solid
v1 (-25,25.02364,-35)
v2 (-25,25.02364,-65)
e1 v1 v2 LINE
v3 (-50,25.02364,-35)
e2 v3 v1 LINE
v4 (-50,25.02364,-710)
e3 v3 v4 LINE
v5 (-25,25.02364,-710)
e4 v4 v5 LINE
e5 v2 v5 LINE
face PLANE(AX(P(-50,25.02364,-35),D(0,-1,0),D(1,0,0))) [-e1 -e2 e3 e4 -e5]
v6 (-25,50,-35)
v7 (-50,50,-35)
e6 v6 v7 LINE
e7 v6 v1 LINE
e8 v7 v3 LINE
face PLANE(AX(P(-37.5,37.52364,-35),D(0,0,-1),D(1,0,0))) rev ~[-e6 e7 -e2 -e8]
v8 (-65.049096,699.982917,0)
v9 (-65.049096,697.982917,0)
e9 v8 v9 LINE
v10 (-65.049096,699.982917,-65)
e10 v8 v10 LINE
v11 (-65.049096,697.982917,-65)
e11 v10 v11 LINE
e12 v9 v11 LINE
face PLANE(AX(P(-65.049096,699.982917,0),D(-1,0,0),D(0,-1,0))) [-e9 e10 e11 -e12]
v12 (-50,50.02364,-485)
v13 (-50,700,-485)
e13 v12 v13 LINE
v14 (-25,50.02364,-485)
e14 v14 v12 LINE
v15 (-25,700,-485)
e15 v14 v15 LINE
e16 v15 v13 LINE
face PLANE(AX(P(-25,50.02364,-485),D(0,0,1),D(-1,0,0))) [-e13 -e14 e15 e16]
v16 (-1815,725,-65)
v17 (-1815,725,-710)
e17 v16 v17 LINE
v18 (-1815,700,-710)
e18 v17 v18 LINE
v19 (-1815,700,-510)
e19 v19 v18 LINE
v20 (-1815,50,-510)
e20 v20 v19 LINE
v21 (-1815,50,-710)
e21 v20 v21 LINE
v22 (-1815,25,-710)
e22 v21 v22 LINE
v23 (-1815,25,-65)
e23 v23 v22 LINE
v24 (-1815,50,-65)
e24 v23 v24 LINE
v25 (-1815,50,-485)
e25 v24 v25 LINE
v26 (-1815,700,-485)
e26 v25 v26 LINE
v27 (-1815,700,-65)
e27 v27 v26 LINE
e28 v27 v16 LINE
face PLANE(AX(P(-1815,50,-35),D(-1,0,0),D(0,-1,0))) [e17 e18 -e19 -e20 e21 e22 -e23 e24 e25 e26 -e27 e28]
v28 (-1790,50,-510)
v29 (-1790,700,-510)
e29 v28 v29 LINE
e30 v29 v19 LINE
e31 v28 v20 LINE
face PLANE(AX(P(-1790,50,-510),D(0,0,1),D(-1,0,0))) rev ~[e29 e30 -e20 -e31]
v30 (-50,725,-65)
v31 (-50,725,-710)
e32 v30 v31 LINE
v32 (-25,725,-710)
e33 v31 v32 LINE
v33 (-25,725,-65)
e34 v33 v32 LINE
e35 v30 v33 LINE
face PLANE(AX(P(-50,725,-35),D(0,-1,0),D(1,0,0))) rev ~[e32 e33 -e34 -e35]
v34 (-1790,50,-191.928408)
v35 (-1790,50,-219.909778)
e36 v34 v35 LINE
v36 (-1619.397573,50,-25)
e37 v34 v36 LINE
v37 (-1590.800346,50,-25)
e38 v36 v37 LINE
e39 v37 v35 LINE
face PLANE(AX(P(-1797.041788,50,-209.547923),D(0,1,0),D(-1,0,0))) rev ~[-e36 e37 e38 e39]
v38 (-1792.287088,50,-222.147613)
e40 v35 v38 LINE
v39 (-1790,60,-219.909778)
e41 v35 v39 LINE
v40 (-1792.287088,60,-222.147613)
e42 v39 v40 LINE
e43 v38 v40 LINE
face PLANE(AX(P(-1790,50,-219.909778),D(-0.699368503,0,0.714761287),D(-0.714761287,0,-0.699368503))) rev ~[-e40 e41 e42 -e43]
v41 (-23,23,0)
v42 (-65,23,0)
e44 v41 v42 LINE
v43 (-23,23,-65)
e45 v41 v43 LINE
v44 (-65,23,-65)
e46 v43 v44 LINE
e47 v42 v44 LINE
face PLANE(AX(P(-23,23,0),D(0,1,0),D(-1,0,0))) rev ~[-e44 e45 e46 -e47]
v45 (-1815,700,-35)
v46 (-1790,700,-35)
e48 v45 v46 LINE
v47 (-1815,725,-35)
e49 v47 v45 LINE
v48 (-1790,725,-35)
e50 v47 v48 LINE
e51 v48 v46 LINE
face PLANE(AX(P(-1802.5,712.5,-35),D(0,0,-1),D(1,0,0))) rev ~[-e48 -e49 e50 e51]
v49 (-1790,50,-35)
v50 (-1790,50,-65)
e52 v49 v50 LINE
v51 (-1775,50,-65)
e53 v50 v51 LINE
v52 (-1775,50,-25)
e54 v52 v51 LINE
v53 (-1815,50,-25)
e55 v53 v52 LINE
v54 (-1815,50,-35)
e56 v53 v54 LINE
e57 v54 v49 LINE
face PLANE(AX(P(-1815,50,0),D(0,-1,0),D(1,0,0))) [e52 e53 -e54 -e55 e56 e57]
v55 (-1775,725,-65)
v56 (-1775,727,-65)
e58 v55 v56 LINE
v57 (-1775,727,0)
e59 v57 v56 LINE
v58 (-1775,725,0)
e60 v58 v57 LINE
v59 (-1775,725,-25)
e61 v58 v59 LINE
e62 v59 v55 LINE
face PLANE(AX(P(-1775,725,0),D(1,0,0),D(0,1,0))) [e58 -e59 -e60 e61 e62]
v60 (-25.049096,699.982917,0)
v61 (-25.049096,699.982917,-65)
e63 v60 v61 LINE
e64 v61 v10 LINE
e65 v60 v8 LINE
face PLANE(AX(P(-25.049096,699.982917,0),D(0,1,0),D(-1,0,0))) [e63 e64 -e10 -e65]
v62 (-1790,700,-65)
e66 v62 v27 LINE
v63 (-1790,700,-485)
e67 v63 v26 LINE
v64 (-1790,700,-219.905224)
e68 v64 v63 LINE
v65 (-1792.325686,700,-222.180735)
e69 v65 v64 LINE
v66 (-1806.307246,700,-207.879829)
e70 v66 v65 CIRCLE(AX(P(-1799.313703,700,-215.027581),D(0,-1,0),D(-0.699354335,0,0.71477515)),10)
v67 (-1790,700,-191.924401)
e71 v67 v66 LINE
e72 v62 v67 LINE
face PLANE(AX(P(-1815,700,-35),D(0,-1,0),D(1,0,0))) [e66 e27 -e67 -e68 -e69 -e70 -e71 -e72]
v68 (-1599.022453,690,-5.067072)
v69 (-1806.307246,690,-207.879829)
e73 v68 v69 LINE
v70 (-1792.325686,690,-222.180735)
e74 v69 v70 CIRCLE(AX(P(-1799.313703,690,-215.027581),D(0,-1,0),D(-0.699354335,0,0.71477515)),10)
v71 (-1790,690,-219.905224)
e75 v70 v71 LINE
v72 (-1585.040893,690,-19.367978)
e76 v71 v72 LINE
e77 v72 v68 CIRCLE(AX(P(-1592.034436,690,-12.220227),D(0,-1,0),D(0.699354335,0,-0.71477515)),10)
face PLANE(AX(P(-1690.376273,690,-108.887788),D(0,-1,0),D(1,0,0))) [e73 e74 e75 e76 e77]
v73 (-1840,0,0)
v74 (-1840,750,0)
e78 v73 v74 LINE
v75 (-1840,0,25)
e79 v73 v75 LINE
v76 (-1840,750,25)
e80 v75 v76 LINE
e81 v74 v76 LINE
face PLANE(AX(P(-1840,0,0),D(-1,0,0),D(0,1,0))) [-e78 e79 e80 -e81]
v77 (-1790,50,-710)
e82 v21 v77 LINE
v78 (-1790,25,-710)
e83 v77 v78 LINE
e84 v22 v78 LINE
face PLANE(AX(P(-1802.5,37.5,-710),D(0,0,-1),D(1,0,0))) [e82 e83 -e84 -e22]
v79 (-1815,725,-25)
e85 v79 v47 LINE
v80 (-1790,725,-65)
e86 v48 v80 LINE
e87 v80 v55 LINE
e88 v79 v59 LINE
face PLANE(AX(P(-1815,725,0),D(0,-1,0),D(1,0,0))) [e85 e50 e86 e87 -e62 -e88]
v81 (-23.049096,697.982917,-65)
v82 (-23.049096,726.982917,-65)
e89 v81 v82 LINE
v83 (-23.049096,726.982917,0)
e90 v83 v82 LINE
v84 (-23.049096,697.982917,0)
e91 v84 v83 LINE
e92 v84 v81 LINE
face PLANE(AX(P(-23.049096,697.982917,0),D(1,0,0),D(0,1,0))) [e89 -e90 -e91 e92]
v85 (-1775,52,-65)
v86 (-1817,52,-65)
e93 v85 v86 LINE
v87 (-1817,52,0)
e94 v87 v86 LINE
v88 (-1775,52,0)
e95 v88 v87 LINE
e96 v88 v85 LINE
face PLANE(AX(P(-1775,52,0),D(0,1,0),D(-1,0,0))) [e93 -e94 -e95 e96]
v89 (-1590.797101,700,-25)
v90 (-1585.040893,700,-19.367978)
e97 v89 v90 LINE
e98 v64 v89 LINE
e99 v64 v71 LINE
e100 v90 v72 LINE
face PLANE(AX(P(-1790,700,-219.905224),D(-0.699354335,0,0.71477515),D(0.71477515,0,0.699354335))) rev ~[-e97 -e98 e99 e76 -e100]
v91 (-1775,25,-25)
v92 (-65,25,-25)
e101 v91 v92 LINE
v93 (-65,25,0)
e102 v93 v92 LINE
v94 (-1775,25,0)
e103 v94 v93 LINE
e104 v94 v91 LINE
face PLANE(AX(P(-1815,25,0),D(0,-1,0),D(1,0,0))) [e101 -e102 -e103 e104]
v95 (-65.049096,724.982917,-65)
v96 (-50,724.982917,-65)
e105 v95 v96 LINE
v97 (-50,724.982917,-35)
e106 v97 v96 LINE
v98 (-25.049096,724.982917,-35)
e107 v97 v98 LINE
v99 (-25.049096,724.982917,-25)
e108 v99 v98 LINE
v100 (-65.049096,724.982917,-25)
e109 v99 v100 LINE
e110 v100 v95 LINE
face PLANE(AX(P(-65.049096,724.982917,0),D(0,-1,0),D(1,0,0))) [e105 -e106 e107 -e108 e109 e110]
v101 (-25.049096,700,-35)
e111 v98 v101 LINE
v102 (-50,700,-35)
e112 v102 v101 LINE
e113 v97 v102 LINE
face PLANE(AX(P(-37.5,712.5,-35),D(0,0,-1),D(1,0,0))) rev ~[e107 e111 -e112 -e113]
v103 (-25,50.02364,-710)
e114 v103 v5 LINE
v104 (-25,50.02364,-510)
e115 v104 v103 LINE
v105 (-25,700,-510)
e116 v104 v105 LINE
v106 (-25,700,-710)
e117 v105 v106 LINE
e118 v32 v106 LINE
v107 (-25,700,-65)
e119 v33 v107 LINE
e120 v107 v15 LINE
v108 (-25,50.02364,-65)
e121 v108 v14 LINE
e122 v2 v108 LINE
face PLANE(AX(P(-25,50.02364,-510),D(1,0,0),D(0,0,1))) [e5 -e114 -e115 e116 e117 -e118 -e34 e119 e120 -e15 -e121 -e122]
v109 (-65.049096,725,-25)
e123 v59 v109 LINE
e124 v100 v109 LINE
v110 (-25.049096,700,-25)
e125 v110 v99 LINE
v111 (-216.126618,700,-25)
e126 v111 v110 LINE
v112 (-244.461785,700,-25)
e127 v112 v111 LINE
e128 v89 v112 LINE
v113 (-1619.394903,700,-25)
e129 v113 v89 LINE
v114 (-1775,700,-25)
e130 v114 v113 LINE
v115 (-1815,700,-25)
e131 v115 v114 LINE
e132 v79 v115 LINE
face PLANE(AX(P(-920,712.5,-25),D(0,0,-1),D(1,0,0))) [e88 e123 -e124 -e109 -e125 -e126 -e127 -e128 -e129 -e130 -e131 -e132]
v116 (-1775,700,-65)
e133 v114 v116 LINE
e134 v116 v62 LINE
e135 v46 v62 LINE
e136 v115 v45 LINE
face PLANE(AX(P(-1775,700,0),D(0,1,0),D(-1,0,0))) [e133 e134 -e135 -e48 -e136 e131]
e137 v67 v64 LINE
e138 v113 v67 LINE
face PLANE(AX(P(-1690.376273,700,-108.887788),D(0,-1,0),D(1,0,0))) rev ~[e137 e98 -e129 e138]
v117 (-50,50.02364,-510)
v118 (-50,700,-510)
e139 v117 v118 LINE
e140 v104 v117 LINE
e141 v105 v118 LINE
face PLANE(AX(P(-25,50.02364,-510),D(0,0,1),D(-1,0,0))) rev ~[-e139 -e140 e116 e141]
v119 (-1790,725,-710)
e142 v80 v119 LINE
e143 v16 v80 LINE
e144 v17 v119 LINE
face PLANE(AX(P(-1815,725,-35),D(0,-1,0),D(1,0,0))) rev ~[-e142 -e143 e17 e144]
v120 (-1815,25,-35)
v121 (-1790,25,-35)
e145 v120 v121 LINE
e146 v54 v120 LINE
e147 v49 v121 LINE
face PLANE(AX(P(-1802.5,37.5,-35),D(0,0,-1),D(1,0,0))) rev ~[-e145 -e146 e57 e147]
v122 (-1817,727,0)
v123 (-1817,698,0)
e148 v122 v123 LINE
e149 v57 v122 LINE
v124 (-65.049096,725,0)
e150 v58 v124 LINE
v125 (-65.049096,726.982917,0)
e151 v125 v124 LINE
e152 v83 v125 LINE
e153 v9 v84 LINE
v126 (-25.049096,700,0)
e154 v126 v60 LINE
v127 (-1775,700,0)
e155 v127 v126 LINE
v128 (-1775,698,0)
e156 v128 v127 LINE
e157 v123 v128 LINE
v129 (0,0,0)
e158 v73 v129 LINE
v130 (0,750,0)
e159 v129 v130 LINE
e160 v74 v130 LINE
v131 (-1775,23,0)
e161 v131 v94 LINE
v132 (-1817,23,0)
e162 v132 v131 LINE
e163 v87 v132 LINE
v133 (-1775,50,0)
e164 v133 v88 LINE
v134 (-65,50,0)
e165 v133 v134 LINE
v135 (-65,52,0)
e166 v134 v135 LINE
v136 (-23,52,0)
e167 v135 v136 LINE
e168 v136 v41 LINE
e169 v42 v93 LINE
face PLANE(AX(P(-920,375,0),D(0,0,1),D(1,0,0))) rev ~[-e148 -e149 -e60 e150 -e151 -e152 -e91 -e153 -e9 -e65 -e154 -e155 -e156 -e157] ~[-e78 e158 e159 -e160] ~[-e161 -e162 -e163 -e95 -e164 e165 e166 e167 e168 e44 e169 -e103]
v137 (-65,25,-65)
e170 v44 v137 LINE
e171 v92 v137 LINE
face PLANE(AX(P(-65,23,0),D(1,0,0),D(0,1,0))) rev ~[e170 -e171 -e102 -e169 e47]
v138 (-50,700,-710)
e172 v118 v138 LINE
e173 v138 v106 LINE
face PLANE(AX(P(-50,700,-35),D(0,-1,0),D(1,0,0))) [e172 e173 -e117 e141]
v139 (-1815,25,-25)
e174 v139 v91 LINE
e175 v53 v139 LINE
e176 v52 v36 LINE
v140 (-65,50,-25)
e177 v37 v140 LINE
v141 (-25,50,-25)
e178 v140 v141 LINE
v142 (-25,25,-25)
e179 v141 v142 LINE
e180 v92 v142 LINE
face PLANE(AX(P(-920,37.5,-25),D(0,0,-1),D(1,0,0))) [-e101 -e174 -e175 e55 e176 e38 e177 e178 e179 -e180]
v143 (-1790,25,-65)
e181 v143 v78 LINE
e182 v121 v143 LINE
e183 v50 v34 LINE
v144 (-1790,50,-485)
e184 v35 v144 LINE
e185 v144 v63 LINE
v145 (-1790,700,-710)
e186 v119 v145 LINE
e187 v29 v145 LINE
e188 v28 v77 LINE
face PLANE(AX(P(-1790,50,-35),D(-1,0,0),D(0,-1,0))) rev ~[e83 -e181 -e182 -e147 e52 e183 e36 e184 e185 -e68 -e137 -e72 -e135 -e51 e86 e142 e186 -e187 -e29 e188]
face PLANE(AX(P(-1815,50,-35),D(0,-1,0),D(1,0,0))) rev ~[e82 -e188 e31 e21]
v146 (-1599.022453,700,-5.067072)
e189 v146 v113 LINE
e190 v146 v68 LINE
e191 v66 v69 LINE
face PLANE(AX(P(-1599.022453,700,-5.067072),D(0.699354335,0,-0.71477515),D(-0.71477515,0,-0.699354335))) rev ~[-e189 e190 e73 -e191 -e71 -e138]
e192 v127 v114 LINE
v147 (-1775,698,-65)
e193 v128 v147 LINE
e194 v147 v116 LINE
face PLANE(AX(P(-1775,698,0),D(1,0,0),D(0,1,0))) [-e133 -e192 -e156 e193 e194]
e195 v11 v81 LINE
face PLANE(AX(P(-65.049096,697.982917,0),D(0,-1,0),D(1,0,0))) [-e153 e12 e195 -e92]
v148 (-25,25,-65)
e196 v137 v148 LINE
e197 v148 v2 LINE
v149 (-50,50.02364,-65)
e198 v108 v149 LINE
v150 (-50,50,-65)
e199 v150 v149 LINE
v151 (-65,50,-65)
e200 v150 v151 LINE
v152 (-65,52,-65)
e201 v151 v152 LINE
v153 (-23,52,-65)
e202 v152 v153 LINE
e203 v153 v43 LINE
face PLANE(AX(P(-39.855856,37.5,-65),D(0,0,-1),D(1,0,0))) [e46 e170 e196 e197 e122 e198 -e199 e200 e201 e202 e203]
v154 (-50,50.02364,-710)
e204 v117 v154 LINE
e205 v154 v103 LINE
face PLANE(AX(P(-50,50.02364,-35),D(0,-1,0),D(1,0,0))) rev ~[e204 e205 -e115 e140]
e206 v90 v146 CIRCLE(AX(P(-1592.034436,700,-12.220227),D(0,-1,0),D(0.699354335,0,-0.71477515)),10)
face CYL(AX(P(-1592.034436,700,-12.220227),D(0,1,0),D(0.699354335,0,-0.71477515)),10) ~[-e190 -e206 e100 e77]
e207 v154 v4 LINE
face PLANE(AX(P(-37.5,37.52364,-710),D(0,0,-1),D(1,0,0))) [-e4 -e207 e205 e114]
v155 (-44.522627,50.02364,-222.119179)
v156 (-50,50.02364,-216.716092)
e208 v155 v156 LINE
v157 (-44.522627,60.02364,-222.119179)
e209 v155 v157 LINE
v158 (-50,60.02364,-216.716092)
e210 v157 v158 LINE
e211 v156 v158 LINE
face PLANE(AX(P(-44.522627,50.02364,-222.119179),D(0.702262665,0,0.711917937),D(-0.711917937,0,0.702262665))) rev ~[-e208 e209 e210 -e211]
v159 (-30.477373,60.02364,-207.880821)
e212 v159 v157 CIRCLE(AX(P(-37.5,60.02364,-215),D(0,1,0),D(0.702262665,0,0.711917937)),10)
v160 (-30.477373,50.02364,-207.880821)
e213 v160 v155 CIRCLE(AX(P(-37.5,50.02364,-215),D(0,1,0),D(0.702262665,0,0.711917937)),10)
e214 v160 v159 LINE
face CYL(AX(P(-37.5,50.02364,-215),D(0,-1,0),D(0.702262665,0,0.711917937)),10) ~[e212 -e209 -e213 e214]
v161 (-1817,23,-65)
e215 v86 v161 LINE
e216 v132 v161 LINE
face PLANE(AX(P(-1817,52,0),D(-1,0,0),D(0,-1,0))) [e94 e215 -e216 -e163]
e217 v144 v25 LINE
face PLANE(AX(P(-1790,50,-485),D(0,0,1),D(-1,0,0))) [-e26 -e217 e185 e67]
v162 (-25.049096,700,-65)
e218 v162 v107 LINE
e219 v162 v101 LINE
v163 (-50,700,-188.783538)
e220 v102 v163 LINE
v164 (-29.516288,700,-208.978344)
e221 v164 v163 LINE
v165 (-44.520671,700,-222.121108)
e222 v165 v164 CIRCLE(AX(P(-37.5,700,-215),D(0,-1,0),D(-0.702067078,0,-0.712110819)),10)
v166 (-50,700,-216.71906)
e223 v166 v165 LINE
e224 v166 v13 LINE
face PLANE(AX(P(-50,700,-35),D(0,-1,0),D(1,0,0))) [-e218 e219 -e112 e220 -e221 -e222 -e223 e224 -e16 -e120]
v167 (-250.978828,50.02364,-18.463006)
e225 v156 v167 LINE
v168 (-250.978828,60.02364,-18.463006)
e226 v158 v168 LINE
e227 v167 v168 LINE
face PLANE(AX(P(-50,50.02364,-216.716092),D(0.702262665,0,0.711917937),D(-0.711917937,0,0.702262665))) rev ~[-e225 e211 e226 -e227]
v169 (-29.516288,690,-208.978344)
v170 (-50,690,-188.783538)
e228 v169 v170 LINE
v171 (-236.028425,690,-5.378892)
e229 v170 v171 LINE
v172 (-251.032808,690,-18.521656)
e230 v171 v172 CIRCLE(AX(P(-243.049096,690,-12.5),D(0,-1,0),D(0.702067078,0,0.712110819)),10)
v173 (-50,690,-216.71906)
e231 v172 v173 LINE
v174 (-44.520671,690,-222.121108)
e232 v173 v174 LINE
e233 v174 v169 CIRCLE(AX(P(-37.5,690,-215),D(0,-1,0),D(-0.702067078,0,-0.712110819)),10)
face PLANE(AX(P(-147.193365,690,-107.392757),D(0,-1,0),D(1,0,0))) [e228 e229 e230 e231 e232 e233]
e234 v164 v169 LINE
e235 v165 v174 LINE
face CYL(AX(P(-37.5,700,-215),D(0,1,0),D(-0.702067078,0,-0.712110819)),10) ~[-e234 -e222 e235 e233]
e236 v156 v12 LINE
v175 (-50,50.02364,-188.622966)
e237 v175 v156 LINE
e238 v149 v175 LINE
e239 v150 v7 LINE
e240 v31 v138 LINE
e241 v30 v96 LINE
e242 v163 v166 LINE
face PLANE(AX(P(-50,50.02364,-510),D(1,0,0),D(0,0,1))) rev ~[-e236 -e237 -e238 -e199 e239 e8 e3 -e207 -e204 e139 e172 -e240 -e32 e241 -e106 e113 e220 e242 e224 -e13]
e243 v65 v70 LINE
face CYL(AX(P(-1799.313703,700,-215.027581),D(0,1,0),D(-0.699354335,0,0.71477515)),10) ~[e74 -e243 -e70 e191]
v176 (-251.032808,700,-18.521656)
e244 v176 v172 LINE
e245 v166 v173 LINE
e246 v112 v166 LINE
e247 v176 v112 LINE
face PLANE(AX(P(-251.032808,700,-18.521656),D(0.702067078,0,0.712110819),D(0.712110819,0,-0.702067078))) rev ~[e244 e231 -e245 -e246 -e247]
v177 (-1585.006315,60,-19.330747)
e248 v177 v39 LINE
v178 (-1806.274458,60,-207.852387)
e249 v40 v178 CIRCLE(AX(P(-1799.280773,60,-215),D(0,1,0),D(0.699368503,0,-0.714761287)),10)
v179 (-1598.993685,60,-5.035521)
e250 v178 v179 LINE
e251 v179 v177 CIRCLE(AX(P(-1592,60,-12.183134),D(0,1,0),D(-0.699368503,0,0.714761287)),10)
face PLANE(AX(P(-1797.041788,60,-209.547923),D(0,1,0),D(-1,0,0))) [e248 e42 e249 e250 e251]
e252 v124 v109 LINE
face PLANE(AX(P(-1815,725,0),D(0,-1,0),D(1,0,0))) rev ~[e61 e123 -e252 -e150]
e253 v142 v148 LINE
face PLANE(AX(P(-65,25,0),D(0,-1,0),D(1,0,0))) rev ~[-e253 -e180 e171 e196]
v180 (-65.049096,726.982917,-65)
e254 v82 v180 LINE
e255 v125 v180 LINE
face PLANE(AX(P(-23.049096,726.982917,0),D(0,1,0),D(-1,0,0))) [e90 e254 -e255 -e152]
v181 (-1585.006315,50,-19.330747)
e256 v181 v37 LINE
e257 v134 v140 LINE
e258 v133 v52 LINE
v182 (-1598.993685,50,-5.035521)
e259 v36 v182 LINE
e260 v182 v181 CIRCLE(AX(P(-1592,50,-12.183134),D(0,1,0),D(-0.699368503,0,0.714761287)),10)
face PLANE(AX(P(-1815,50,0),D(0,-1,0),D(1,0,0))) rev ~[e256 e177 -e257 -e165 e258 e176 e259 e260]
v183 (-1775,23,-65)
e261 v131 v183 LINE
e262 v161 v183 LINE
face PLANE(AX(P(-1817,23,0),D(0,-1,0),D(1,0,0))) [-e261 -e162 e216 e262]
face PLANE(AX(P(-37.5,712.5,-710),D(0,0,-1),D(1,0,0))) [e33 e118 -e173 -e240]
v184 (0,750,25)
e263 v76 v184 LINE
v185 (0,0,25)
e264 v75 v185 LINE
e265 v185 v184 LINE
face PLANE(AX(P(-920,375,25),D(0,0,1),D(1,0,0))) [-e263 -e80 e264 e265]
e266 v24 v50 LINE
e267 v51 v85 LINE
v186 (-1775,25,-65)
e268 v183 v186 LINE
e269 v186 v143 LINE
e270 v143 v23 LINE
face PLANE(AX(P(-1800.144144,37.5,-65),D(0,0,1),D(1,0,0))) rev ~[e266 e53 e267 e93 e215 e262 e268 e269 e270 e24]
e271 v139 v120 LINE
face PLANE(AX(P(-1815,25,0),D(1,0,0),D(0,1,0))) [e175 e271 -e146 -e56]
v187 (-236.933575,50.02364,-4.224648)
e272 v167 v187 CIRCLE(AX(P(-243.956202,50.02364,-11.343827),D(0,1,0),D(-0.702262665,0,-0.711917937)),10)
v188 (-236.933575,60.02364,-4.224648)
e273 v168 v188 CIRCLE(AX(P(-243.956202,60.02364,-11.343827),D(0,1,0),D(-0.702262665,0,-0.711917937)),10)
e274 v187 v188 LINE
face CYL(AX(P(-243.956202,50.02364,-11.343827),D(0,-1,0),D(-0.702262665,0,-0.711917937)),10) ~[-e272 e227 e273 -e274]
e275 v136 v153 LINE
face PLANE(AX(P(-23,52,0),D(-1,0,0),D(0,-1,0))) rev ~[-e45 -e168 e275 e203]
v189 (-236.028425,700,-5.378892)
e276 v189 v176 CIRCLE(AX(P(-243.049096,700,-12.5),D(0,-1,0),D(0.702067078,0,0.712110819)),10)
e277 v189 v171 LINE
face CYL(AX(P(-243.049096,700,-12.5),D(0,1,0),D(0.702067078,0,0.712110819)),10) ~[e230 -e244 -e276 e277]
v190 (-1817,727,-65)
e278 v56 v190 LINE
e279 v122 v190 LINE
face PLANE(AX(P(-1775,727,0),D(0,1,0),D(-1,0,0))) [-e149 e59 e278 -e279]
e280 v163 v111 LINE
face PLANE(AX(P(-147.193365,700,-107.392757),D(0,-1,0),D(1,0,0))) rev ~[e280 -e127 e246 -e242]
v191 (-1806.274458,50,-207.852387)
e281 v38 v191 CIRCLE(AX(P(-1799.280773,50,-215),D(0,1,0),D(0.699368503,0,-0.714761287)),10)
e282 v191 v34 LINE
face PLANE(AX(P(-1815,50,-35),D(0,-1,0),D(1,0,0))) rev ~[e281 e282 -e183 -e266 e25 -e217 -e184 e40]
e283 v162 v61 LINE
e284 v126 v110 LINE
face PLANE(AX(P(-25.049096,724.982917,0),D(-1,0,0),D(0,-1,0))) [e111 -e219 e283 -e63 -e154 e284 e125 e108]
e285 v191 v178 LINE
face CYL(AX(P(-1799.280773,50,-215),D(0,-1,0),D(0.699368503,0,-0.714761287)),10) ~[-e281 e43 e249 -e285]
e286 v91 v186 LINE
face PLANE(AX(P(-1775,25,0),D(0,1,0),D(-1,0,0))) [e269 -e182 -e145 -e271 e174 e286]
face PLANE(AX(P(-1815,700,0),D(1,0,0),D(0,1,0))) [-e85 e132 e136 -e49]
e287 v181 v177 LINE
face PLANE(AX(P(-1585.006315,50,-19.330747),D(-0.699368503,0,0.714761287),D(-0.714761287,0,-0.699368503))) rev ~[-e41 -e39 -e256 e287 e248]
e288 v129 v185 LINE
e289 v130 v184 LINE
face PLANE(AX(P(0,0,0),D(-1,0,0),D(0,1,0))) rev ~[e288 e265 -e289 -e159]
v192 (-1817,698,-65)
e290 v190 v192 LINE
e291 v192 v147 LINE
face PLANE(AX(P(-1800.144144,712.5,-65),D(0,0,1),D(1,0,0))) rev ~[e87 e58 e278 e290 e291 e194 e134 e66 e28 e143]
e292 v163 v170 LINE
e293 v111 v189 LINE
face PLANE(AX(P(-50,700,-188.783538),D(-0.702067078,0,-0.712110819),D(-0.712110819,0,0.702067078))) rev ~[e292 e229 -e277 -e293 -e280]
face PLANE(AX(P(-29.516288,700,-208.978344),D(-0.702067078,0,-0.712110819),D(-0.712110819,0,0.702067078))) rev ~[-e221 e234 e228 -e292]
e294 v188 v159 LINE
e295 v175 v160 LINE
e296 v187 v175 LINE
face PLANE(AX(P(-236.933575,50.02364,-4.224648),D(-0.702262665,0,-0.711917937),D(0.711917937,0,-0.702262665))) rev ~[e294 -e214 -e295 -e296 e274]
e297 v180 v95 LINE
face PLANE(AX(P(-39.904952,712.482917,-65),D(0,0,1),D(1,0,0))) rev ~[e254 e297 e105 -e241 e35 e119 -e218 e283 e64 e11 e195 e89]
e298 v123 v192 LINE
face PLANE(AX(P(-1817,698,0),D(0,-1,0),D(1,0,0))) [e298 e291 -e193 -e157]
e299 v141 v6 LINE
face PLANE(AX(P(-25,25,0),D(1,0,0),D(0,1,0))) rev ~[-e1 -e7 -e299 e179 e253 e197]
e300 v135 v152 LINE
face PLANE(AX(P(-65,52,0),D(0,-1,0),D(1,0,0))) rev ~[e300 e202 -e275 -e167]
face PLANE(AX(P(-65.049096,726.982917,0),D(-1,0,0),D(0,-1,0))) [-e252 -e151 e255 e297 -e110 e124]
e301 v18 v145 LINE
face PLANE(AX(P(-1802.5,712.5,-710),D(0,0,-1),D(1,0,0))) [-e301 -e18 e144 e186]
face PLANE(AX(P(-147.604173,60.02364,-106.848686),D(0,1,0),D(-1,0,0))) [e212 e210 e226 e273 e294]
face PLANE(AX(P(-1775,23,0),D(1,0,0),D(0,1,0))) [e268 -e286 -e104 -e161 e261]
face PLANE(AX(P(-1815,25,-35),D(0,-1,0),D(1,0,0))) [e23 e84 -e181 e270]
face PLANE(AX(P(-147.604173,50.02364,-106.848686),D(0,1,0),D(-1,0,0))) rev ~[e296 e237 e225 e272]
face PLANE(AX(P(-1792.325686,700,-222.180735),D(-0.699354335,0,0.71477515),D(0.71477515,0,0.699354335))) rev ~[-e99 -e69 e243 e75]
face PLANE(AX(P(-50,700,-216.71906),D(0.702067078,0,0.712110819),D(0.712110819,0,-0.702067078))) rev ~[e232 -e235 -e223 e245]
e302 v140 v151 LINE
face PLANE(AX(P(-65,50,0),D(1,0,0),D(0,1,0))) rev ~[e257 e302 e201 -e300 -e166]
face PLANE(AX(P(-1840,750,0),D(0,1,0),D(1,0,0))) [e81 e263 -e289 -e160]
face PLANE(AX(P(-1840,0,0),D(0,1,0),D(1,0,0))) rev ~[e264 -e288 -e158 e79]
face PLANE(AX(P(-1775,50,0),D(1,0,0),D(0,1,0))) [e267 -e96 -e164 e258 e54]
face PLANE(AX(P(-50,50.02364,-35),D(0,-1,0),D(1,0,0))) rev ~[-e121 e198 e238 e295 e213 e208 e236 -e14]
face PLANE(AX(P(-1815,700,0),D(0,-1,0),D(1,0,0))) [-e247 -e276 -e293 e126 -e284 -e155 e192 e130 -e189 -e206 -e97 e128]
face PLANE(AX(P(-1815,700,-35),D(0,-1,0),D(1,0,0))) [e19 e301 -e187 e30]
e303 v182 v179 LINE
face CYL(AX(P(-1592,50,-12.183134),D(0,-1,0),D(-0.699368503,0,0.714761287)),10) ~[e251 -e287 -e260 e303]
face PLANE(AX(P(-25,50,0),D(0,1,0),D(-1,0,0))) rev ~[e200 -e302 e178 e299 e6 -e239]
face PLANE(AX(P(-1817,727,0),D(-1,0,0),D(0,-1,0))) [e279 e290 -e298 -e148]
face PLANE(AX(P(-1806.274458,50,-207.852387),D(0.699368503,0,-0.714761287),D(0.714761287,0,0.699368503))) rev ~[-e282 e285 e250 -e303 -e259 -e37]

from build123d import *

# Parameters (mm, degrees)
F0_W      = 1840
F0_H      = 750
F1_DEPTH  = 25
F2_W      = 1790
F2_H      = 25
F3_DEPTH  = 25
F5_DEPTH  = 65
F7_W      = 25
F7_H      = 25
F8_DEPTH  = 675
F10_DEPTH = 65
F12_W     = 25
F12_H     = 25
F13_DEPTH = 675
F15_W     = 25
F15_H     = 25
F16_DEPTH = 675
F18_W     = 25
F18_H     = 25
F19_DEPTH = 650
F21_W     = 25
F21_H     = 25
F22_DEPTH = 650
F24_DEPTH = 10
F26_DEPTH = 10
F28_DEPTH = 10
F30_DEPTH = 10


with BuildPart() as f1:
    # F0 (on Top) → F1 (new body)
    with BuildSketch(Plane.XY):
        with Locations((-920, 375)):
            Rectangle(F0_W, F0_H)
    extrude(amount=F1_DEPTH)

    # F2 (on face) → F3 (join)
    with BuildSketch(Plane(origin=(0, 0, 0), x_dir=(1, 0, 0), z_dir=(0, 0, -1))):
        with Locations((-920, -37.5)):
            Rectangle(F2_W, F2_H)
        with Locations((-920, -712.5)):
            Rectangle(F2_W, F2_H)
    extrude(amount=F3_DEPTH)

    # F4 (on face) → F5 (join)
    with BuildSketch(Plane(origin=(0, 0, 0), x_dir=(1, 0, 0), z_dir=(0, 0, -1))):
        Polygon((-65, -25), (-25, -25), (-25, -50), (-65, -50), (-65, -52), (-23, -52), (-23, -23), (-65, -23), align=None)
    extrude(amount=F5_DEPTH)

    # F7 (on offset) → F8 (join)
    with BuildSketch(Plane(origin=(0, 0, -35), x_dir=(1, 0, 0), z_dir=(0, 0, -1))):
        with Locations((-37.5, -37.523640207)):
            Rectangle(F7_W, F7_H)
    extrude(amount=F8_DEPTH)

    # F9 (on face) → F10 (join)
    with BuildSketch(Plane.XY):
        Polygon((-1815, 725), (-1775, 725), (-1775, 727), (-1817, 727), (-1817, 698), (-1775, 698), (-1775, 700), (-1815, 700), align=None)
        Polygon((-65.0490959734, 726.9829173088), (-65.0490959734, 724.9829173088), (-25.0490959734, 724.9829173088), (-25.0490959734, 699.9829173088), (-65.0490959734, 699.9829173088), (-65.0490959734, 697.9829173088), (-23.0490959734, 697.9829173088), (-23.0490959734, 726.9829173088), align=None)
        Polygon((-1775, 25), (-1815, 25), (-1815, 50), (-1775, 50), (-1775, 52), (-1817, 52), (-1817, 23), (-1775, 23), align=None)
    extrude(amount=-F10_DEPTH)

    # F12 (on offset) → F13 (join)
    with BuildSketch(Plane(origin=(0, 0, -35), x_dir=(1, 0, 0), z_dir=(0, 0, -1))):
        with Locations((-1802.5, -37.5)):
            Rectangle(F12_W, F12_H)
    extrude(amount=F13_DEPTH)

    # F15 (on offset) → F16 (join)
    with BuildSketch(Plane(origin=(0, 0, -35), x_dir=(1, 0, 0), z_dir=(0, 0, -1))):
        with Locations((-37.5, -712.5)):
            Rectangle(F15_W, F15_H)
        with Locations((-1802.5, -712.5)):
            Rectangle(F15_W, F15_H)
    extrude(amount=F16_DEPTH)

    # F18 (on offset) → F19 (join)
    with BuildSketch(Plane(origin=(0, 50.023640207, 0), x_dir=(-1, 0, 0), z_dir=(0, 1, 0))):
        with Locations((37.5, -497.5)):
            Rectangle(F18_W, F18_H)
    extrude(amount=F19_DEPTH)

    # F21 (on offset) → F22 (join)
    with BuildSketch(Plane(origin=(0, 50, 0), x_dir=(-1, 0, 0), z_dir=(0, 1, 0))):
        with Locations((1802.5, -497.5)):
            Rectangle(F21_W, F21_H)
    extrude(amount=F22_DEPTH)

    # F23 (on face) → F24 (join)
    with BuildSketch(Plane.XZ.offset(-700)):
        with BuildLine():
            Line((-50, -188.7835379987), (-236.028425198, -5.3788918093))
            ThreePointArc((-236.028425198, -5.3788918093), (-249.6380961216, -4.9776946987), (-251.0328083047, -18.5216557034))
            Line((-251.0328083047, -18.5216557034), (-50, -216.7190604298))
            Line((-50, -216.7190604298), (-50, -188.7835379987))
        make_face()
        with BuildLine():
            Line((-29.5162876687, -208.9783442966), (-50, -188.7835379987))
            Line((-50, -188.7835379987), (-50, -216.7190604298))
            Line((-50, -216.7190604298), (-44.5206707754, -222.1211081907))
            ThreePointArc((-44.5206707754, -222.1211081907), (-30.9109998517, -222.5223053013), (-29.5162876687, -208.9783442966))
        make_face()
    extrude(amount=F24_DEPTH)

    # F25 (on face) → F26 (join)
    with BuildSketch(Plane(origin=(0, 50.023640207, 0), x_dir=(-1, 0, 0), z_dir=(0, 1, 0))):
        with BuildLine():
            Line((50, -188.6229664357), (50, -216.7160920101))
            Line((50, -216.7160920101), (250.9788283543, -18.4630064225))
            ThreePointArc((250.9788283543, -18.4630064225), (251.07538107, -4.3212004002), (236.9335750477, -4.2246476845))
            Line((236.9335750477, -4.2246476845), (50, -188.6229664357))
        make_face()
        with BuildLine():
            ThreePointArc((30.4773733467, -207.880820631), (30.380820631, -222.0226266533), (44.5226266533, -222.119179369))
            Line((44.5226266533, -222.119179369), (50, -216.7160920101))
            Line((50, -216.7160920101), (50, -188.6229664357))
            Line((50, -188.6229664357), (30.4773733467, -207.880820631))
        make_face()
    extrude(amount=F26_DEPTH)

    # F27 (on face) → F28 (join)
    with BuildSketch(Plane(origin=(0, 50, 0), x_dir=(-1, 0, 0), z_dir=(0, 1, 0))):
        with BuildLine():
            ThreePointArc((1792.287088182, -222.1476128693), (1806.4283860793, -221.993685028), (1806.274458238, -207.8523871307))
            Line((1806.274458238, -207.8523871307), (1790, -191.9284084544))
            Line((1790, -191.9284084544), (1790, -219.9097784106))
            Line((1790, -219.9097784106), (1792.287088182, -222.1476128693))
        make_face()
        with BuildLine():
            Line((1790, -219.9097784106), (1790, -191.9284084544))
            Line((1790, -191.9284084544), (1598.993685028, -5.0355213195))
            ThreePointArc((1598.993685028, -5.0355213195), (1584.8523871307, -5.1894491609), (1585.006314972, -19.3307470582))
            Line((1585.006314972, -19.3307470582), (1790, -219.9097784106))
        make_face()
    extrude(amount=F28_DEPTH)

    # F29 (on face) → F30 (join)
    with BuildSketch(Plane.XZ.offset(-700)):
        with BuildLine():
            Line((-1599.022452861, -5.0670719967), (-1790, -191.924401237))
            Line((-1790, -191.924401237), (-1790, -219.9052243348))
            Line((-1790, -219.9052243348), (-1585.0408926577, -19.3679780711))
            ThreePointArc((-1585.0408926577, -19.3679780711), (-1584.8839824349, -5.2294459524), (-1599.022452861, -5.0670719967))
        make_face()
        with BuildLine():
            Line((-1790, -191.924401237), (-1806.3072462202, -207.8798290955))
            ThreePointArc((-1806.3072462202, -207.8798290955), (-1806.4641564431, -222.0183612143), (-1792.325686017, -222.1807351699))
            Line((-1792.325686017, -222.1807351699), (-1790, -219.9052243348))
            Line((-1790, -219.9052243348), (-1790, -191.924401237))
        make_face()
    extrude(amount=F30_DEPTH)


solid = f1.part
